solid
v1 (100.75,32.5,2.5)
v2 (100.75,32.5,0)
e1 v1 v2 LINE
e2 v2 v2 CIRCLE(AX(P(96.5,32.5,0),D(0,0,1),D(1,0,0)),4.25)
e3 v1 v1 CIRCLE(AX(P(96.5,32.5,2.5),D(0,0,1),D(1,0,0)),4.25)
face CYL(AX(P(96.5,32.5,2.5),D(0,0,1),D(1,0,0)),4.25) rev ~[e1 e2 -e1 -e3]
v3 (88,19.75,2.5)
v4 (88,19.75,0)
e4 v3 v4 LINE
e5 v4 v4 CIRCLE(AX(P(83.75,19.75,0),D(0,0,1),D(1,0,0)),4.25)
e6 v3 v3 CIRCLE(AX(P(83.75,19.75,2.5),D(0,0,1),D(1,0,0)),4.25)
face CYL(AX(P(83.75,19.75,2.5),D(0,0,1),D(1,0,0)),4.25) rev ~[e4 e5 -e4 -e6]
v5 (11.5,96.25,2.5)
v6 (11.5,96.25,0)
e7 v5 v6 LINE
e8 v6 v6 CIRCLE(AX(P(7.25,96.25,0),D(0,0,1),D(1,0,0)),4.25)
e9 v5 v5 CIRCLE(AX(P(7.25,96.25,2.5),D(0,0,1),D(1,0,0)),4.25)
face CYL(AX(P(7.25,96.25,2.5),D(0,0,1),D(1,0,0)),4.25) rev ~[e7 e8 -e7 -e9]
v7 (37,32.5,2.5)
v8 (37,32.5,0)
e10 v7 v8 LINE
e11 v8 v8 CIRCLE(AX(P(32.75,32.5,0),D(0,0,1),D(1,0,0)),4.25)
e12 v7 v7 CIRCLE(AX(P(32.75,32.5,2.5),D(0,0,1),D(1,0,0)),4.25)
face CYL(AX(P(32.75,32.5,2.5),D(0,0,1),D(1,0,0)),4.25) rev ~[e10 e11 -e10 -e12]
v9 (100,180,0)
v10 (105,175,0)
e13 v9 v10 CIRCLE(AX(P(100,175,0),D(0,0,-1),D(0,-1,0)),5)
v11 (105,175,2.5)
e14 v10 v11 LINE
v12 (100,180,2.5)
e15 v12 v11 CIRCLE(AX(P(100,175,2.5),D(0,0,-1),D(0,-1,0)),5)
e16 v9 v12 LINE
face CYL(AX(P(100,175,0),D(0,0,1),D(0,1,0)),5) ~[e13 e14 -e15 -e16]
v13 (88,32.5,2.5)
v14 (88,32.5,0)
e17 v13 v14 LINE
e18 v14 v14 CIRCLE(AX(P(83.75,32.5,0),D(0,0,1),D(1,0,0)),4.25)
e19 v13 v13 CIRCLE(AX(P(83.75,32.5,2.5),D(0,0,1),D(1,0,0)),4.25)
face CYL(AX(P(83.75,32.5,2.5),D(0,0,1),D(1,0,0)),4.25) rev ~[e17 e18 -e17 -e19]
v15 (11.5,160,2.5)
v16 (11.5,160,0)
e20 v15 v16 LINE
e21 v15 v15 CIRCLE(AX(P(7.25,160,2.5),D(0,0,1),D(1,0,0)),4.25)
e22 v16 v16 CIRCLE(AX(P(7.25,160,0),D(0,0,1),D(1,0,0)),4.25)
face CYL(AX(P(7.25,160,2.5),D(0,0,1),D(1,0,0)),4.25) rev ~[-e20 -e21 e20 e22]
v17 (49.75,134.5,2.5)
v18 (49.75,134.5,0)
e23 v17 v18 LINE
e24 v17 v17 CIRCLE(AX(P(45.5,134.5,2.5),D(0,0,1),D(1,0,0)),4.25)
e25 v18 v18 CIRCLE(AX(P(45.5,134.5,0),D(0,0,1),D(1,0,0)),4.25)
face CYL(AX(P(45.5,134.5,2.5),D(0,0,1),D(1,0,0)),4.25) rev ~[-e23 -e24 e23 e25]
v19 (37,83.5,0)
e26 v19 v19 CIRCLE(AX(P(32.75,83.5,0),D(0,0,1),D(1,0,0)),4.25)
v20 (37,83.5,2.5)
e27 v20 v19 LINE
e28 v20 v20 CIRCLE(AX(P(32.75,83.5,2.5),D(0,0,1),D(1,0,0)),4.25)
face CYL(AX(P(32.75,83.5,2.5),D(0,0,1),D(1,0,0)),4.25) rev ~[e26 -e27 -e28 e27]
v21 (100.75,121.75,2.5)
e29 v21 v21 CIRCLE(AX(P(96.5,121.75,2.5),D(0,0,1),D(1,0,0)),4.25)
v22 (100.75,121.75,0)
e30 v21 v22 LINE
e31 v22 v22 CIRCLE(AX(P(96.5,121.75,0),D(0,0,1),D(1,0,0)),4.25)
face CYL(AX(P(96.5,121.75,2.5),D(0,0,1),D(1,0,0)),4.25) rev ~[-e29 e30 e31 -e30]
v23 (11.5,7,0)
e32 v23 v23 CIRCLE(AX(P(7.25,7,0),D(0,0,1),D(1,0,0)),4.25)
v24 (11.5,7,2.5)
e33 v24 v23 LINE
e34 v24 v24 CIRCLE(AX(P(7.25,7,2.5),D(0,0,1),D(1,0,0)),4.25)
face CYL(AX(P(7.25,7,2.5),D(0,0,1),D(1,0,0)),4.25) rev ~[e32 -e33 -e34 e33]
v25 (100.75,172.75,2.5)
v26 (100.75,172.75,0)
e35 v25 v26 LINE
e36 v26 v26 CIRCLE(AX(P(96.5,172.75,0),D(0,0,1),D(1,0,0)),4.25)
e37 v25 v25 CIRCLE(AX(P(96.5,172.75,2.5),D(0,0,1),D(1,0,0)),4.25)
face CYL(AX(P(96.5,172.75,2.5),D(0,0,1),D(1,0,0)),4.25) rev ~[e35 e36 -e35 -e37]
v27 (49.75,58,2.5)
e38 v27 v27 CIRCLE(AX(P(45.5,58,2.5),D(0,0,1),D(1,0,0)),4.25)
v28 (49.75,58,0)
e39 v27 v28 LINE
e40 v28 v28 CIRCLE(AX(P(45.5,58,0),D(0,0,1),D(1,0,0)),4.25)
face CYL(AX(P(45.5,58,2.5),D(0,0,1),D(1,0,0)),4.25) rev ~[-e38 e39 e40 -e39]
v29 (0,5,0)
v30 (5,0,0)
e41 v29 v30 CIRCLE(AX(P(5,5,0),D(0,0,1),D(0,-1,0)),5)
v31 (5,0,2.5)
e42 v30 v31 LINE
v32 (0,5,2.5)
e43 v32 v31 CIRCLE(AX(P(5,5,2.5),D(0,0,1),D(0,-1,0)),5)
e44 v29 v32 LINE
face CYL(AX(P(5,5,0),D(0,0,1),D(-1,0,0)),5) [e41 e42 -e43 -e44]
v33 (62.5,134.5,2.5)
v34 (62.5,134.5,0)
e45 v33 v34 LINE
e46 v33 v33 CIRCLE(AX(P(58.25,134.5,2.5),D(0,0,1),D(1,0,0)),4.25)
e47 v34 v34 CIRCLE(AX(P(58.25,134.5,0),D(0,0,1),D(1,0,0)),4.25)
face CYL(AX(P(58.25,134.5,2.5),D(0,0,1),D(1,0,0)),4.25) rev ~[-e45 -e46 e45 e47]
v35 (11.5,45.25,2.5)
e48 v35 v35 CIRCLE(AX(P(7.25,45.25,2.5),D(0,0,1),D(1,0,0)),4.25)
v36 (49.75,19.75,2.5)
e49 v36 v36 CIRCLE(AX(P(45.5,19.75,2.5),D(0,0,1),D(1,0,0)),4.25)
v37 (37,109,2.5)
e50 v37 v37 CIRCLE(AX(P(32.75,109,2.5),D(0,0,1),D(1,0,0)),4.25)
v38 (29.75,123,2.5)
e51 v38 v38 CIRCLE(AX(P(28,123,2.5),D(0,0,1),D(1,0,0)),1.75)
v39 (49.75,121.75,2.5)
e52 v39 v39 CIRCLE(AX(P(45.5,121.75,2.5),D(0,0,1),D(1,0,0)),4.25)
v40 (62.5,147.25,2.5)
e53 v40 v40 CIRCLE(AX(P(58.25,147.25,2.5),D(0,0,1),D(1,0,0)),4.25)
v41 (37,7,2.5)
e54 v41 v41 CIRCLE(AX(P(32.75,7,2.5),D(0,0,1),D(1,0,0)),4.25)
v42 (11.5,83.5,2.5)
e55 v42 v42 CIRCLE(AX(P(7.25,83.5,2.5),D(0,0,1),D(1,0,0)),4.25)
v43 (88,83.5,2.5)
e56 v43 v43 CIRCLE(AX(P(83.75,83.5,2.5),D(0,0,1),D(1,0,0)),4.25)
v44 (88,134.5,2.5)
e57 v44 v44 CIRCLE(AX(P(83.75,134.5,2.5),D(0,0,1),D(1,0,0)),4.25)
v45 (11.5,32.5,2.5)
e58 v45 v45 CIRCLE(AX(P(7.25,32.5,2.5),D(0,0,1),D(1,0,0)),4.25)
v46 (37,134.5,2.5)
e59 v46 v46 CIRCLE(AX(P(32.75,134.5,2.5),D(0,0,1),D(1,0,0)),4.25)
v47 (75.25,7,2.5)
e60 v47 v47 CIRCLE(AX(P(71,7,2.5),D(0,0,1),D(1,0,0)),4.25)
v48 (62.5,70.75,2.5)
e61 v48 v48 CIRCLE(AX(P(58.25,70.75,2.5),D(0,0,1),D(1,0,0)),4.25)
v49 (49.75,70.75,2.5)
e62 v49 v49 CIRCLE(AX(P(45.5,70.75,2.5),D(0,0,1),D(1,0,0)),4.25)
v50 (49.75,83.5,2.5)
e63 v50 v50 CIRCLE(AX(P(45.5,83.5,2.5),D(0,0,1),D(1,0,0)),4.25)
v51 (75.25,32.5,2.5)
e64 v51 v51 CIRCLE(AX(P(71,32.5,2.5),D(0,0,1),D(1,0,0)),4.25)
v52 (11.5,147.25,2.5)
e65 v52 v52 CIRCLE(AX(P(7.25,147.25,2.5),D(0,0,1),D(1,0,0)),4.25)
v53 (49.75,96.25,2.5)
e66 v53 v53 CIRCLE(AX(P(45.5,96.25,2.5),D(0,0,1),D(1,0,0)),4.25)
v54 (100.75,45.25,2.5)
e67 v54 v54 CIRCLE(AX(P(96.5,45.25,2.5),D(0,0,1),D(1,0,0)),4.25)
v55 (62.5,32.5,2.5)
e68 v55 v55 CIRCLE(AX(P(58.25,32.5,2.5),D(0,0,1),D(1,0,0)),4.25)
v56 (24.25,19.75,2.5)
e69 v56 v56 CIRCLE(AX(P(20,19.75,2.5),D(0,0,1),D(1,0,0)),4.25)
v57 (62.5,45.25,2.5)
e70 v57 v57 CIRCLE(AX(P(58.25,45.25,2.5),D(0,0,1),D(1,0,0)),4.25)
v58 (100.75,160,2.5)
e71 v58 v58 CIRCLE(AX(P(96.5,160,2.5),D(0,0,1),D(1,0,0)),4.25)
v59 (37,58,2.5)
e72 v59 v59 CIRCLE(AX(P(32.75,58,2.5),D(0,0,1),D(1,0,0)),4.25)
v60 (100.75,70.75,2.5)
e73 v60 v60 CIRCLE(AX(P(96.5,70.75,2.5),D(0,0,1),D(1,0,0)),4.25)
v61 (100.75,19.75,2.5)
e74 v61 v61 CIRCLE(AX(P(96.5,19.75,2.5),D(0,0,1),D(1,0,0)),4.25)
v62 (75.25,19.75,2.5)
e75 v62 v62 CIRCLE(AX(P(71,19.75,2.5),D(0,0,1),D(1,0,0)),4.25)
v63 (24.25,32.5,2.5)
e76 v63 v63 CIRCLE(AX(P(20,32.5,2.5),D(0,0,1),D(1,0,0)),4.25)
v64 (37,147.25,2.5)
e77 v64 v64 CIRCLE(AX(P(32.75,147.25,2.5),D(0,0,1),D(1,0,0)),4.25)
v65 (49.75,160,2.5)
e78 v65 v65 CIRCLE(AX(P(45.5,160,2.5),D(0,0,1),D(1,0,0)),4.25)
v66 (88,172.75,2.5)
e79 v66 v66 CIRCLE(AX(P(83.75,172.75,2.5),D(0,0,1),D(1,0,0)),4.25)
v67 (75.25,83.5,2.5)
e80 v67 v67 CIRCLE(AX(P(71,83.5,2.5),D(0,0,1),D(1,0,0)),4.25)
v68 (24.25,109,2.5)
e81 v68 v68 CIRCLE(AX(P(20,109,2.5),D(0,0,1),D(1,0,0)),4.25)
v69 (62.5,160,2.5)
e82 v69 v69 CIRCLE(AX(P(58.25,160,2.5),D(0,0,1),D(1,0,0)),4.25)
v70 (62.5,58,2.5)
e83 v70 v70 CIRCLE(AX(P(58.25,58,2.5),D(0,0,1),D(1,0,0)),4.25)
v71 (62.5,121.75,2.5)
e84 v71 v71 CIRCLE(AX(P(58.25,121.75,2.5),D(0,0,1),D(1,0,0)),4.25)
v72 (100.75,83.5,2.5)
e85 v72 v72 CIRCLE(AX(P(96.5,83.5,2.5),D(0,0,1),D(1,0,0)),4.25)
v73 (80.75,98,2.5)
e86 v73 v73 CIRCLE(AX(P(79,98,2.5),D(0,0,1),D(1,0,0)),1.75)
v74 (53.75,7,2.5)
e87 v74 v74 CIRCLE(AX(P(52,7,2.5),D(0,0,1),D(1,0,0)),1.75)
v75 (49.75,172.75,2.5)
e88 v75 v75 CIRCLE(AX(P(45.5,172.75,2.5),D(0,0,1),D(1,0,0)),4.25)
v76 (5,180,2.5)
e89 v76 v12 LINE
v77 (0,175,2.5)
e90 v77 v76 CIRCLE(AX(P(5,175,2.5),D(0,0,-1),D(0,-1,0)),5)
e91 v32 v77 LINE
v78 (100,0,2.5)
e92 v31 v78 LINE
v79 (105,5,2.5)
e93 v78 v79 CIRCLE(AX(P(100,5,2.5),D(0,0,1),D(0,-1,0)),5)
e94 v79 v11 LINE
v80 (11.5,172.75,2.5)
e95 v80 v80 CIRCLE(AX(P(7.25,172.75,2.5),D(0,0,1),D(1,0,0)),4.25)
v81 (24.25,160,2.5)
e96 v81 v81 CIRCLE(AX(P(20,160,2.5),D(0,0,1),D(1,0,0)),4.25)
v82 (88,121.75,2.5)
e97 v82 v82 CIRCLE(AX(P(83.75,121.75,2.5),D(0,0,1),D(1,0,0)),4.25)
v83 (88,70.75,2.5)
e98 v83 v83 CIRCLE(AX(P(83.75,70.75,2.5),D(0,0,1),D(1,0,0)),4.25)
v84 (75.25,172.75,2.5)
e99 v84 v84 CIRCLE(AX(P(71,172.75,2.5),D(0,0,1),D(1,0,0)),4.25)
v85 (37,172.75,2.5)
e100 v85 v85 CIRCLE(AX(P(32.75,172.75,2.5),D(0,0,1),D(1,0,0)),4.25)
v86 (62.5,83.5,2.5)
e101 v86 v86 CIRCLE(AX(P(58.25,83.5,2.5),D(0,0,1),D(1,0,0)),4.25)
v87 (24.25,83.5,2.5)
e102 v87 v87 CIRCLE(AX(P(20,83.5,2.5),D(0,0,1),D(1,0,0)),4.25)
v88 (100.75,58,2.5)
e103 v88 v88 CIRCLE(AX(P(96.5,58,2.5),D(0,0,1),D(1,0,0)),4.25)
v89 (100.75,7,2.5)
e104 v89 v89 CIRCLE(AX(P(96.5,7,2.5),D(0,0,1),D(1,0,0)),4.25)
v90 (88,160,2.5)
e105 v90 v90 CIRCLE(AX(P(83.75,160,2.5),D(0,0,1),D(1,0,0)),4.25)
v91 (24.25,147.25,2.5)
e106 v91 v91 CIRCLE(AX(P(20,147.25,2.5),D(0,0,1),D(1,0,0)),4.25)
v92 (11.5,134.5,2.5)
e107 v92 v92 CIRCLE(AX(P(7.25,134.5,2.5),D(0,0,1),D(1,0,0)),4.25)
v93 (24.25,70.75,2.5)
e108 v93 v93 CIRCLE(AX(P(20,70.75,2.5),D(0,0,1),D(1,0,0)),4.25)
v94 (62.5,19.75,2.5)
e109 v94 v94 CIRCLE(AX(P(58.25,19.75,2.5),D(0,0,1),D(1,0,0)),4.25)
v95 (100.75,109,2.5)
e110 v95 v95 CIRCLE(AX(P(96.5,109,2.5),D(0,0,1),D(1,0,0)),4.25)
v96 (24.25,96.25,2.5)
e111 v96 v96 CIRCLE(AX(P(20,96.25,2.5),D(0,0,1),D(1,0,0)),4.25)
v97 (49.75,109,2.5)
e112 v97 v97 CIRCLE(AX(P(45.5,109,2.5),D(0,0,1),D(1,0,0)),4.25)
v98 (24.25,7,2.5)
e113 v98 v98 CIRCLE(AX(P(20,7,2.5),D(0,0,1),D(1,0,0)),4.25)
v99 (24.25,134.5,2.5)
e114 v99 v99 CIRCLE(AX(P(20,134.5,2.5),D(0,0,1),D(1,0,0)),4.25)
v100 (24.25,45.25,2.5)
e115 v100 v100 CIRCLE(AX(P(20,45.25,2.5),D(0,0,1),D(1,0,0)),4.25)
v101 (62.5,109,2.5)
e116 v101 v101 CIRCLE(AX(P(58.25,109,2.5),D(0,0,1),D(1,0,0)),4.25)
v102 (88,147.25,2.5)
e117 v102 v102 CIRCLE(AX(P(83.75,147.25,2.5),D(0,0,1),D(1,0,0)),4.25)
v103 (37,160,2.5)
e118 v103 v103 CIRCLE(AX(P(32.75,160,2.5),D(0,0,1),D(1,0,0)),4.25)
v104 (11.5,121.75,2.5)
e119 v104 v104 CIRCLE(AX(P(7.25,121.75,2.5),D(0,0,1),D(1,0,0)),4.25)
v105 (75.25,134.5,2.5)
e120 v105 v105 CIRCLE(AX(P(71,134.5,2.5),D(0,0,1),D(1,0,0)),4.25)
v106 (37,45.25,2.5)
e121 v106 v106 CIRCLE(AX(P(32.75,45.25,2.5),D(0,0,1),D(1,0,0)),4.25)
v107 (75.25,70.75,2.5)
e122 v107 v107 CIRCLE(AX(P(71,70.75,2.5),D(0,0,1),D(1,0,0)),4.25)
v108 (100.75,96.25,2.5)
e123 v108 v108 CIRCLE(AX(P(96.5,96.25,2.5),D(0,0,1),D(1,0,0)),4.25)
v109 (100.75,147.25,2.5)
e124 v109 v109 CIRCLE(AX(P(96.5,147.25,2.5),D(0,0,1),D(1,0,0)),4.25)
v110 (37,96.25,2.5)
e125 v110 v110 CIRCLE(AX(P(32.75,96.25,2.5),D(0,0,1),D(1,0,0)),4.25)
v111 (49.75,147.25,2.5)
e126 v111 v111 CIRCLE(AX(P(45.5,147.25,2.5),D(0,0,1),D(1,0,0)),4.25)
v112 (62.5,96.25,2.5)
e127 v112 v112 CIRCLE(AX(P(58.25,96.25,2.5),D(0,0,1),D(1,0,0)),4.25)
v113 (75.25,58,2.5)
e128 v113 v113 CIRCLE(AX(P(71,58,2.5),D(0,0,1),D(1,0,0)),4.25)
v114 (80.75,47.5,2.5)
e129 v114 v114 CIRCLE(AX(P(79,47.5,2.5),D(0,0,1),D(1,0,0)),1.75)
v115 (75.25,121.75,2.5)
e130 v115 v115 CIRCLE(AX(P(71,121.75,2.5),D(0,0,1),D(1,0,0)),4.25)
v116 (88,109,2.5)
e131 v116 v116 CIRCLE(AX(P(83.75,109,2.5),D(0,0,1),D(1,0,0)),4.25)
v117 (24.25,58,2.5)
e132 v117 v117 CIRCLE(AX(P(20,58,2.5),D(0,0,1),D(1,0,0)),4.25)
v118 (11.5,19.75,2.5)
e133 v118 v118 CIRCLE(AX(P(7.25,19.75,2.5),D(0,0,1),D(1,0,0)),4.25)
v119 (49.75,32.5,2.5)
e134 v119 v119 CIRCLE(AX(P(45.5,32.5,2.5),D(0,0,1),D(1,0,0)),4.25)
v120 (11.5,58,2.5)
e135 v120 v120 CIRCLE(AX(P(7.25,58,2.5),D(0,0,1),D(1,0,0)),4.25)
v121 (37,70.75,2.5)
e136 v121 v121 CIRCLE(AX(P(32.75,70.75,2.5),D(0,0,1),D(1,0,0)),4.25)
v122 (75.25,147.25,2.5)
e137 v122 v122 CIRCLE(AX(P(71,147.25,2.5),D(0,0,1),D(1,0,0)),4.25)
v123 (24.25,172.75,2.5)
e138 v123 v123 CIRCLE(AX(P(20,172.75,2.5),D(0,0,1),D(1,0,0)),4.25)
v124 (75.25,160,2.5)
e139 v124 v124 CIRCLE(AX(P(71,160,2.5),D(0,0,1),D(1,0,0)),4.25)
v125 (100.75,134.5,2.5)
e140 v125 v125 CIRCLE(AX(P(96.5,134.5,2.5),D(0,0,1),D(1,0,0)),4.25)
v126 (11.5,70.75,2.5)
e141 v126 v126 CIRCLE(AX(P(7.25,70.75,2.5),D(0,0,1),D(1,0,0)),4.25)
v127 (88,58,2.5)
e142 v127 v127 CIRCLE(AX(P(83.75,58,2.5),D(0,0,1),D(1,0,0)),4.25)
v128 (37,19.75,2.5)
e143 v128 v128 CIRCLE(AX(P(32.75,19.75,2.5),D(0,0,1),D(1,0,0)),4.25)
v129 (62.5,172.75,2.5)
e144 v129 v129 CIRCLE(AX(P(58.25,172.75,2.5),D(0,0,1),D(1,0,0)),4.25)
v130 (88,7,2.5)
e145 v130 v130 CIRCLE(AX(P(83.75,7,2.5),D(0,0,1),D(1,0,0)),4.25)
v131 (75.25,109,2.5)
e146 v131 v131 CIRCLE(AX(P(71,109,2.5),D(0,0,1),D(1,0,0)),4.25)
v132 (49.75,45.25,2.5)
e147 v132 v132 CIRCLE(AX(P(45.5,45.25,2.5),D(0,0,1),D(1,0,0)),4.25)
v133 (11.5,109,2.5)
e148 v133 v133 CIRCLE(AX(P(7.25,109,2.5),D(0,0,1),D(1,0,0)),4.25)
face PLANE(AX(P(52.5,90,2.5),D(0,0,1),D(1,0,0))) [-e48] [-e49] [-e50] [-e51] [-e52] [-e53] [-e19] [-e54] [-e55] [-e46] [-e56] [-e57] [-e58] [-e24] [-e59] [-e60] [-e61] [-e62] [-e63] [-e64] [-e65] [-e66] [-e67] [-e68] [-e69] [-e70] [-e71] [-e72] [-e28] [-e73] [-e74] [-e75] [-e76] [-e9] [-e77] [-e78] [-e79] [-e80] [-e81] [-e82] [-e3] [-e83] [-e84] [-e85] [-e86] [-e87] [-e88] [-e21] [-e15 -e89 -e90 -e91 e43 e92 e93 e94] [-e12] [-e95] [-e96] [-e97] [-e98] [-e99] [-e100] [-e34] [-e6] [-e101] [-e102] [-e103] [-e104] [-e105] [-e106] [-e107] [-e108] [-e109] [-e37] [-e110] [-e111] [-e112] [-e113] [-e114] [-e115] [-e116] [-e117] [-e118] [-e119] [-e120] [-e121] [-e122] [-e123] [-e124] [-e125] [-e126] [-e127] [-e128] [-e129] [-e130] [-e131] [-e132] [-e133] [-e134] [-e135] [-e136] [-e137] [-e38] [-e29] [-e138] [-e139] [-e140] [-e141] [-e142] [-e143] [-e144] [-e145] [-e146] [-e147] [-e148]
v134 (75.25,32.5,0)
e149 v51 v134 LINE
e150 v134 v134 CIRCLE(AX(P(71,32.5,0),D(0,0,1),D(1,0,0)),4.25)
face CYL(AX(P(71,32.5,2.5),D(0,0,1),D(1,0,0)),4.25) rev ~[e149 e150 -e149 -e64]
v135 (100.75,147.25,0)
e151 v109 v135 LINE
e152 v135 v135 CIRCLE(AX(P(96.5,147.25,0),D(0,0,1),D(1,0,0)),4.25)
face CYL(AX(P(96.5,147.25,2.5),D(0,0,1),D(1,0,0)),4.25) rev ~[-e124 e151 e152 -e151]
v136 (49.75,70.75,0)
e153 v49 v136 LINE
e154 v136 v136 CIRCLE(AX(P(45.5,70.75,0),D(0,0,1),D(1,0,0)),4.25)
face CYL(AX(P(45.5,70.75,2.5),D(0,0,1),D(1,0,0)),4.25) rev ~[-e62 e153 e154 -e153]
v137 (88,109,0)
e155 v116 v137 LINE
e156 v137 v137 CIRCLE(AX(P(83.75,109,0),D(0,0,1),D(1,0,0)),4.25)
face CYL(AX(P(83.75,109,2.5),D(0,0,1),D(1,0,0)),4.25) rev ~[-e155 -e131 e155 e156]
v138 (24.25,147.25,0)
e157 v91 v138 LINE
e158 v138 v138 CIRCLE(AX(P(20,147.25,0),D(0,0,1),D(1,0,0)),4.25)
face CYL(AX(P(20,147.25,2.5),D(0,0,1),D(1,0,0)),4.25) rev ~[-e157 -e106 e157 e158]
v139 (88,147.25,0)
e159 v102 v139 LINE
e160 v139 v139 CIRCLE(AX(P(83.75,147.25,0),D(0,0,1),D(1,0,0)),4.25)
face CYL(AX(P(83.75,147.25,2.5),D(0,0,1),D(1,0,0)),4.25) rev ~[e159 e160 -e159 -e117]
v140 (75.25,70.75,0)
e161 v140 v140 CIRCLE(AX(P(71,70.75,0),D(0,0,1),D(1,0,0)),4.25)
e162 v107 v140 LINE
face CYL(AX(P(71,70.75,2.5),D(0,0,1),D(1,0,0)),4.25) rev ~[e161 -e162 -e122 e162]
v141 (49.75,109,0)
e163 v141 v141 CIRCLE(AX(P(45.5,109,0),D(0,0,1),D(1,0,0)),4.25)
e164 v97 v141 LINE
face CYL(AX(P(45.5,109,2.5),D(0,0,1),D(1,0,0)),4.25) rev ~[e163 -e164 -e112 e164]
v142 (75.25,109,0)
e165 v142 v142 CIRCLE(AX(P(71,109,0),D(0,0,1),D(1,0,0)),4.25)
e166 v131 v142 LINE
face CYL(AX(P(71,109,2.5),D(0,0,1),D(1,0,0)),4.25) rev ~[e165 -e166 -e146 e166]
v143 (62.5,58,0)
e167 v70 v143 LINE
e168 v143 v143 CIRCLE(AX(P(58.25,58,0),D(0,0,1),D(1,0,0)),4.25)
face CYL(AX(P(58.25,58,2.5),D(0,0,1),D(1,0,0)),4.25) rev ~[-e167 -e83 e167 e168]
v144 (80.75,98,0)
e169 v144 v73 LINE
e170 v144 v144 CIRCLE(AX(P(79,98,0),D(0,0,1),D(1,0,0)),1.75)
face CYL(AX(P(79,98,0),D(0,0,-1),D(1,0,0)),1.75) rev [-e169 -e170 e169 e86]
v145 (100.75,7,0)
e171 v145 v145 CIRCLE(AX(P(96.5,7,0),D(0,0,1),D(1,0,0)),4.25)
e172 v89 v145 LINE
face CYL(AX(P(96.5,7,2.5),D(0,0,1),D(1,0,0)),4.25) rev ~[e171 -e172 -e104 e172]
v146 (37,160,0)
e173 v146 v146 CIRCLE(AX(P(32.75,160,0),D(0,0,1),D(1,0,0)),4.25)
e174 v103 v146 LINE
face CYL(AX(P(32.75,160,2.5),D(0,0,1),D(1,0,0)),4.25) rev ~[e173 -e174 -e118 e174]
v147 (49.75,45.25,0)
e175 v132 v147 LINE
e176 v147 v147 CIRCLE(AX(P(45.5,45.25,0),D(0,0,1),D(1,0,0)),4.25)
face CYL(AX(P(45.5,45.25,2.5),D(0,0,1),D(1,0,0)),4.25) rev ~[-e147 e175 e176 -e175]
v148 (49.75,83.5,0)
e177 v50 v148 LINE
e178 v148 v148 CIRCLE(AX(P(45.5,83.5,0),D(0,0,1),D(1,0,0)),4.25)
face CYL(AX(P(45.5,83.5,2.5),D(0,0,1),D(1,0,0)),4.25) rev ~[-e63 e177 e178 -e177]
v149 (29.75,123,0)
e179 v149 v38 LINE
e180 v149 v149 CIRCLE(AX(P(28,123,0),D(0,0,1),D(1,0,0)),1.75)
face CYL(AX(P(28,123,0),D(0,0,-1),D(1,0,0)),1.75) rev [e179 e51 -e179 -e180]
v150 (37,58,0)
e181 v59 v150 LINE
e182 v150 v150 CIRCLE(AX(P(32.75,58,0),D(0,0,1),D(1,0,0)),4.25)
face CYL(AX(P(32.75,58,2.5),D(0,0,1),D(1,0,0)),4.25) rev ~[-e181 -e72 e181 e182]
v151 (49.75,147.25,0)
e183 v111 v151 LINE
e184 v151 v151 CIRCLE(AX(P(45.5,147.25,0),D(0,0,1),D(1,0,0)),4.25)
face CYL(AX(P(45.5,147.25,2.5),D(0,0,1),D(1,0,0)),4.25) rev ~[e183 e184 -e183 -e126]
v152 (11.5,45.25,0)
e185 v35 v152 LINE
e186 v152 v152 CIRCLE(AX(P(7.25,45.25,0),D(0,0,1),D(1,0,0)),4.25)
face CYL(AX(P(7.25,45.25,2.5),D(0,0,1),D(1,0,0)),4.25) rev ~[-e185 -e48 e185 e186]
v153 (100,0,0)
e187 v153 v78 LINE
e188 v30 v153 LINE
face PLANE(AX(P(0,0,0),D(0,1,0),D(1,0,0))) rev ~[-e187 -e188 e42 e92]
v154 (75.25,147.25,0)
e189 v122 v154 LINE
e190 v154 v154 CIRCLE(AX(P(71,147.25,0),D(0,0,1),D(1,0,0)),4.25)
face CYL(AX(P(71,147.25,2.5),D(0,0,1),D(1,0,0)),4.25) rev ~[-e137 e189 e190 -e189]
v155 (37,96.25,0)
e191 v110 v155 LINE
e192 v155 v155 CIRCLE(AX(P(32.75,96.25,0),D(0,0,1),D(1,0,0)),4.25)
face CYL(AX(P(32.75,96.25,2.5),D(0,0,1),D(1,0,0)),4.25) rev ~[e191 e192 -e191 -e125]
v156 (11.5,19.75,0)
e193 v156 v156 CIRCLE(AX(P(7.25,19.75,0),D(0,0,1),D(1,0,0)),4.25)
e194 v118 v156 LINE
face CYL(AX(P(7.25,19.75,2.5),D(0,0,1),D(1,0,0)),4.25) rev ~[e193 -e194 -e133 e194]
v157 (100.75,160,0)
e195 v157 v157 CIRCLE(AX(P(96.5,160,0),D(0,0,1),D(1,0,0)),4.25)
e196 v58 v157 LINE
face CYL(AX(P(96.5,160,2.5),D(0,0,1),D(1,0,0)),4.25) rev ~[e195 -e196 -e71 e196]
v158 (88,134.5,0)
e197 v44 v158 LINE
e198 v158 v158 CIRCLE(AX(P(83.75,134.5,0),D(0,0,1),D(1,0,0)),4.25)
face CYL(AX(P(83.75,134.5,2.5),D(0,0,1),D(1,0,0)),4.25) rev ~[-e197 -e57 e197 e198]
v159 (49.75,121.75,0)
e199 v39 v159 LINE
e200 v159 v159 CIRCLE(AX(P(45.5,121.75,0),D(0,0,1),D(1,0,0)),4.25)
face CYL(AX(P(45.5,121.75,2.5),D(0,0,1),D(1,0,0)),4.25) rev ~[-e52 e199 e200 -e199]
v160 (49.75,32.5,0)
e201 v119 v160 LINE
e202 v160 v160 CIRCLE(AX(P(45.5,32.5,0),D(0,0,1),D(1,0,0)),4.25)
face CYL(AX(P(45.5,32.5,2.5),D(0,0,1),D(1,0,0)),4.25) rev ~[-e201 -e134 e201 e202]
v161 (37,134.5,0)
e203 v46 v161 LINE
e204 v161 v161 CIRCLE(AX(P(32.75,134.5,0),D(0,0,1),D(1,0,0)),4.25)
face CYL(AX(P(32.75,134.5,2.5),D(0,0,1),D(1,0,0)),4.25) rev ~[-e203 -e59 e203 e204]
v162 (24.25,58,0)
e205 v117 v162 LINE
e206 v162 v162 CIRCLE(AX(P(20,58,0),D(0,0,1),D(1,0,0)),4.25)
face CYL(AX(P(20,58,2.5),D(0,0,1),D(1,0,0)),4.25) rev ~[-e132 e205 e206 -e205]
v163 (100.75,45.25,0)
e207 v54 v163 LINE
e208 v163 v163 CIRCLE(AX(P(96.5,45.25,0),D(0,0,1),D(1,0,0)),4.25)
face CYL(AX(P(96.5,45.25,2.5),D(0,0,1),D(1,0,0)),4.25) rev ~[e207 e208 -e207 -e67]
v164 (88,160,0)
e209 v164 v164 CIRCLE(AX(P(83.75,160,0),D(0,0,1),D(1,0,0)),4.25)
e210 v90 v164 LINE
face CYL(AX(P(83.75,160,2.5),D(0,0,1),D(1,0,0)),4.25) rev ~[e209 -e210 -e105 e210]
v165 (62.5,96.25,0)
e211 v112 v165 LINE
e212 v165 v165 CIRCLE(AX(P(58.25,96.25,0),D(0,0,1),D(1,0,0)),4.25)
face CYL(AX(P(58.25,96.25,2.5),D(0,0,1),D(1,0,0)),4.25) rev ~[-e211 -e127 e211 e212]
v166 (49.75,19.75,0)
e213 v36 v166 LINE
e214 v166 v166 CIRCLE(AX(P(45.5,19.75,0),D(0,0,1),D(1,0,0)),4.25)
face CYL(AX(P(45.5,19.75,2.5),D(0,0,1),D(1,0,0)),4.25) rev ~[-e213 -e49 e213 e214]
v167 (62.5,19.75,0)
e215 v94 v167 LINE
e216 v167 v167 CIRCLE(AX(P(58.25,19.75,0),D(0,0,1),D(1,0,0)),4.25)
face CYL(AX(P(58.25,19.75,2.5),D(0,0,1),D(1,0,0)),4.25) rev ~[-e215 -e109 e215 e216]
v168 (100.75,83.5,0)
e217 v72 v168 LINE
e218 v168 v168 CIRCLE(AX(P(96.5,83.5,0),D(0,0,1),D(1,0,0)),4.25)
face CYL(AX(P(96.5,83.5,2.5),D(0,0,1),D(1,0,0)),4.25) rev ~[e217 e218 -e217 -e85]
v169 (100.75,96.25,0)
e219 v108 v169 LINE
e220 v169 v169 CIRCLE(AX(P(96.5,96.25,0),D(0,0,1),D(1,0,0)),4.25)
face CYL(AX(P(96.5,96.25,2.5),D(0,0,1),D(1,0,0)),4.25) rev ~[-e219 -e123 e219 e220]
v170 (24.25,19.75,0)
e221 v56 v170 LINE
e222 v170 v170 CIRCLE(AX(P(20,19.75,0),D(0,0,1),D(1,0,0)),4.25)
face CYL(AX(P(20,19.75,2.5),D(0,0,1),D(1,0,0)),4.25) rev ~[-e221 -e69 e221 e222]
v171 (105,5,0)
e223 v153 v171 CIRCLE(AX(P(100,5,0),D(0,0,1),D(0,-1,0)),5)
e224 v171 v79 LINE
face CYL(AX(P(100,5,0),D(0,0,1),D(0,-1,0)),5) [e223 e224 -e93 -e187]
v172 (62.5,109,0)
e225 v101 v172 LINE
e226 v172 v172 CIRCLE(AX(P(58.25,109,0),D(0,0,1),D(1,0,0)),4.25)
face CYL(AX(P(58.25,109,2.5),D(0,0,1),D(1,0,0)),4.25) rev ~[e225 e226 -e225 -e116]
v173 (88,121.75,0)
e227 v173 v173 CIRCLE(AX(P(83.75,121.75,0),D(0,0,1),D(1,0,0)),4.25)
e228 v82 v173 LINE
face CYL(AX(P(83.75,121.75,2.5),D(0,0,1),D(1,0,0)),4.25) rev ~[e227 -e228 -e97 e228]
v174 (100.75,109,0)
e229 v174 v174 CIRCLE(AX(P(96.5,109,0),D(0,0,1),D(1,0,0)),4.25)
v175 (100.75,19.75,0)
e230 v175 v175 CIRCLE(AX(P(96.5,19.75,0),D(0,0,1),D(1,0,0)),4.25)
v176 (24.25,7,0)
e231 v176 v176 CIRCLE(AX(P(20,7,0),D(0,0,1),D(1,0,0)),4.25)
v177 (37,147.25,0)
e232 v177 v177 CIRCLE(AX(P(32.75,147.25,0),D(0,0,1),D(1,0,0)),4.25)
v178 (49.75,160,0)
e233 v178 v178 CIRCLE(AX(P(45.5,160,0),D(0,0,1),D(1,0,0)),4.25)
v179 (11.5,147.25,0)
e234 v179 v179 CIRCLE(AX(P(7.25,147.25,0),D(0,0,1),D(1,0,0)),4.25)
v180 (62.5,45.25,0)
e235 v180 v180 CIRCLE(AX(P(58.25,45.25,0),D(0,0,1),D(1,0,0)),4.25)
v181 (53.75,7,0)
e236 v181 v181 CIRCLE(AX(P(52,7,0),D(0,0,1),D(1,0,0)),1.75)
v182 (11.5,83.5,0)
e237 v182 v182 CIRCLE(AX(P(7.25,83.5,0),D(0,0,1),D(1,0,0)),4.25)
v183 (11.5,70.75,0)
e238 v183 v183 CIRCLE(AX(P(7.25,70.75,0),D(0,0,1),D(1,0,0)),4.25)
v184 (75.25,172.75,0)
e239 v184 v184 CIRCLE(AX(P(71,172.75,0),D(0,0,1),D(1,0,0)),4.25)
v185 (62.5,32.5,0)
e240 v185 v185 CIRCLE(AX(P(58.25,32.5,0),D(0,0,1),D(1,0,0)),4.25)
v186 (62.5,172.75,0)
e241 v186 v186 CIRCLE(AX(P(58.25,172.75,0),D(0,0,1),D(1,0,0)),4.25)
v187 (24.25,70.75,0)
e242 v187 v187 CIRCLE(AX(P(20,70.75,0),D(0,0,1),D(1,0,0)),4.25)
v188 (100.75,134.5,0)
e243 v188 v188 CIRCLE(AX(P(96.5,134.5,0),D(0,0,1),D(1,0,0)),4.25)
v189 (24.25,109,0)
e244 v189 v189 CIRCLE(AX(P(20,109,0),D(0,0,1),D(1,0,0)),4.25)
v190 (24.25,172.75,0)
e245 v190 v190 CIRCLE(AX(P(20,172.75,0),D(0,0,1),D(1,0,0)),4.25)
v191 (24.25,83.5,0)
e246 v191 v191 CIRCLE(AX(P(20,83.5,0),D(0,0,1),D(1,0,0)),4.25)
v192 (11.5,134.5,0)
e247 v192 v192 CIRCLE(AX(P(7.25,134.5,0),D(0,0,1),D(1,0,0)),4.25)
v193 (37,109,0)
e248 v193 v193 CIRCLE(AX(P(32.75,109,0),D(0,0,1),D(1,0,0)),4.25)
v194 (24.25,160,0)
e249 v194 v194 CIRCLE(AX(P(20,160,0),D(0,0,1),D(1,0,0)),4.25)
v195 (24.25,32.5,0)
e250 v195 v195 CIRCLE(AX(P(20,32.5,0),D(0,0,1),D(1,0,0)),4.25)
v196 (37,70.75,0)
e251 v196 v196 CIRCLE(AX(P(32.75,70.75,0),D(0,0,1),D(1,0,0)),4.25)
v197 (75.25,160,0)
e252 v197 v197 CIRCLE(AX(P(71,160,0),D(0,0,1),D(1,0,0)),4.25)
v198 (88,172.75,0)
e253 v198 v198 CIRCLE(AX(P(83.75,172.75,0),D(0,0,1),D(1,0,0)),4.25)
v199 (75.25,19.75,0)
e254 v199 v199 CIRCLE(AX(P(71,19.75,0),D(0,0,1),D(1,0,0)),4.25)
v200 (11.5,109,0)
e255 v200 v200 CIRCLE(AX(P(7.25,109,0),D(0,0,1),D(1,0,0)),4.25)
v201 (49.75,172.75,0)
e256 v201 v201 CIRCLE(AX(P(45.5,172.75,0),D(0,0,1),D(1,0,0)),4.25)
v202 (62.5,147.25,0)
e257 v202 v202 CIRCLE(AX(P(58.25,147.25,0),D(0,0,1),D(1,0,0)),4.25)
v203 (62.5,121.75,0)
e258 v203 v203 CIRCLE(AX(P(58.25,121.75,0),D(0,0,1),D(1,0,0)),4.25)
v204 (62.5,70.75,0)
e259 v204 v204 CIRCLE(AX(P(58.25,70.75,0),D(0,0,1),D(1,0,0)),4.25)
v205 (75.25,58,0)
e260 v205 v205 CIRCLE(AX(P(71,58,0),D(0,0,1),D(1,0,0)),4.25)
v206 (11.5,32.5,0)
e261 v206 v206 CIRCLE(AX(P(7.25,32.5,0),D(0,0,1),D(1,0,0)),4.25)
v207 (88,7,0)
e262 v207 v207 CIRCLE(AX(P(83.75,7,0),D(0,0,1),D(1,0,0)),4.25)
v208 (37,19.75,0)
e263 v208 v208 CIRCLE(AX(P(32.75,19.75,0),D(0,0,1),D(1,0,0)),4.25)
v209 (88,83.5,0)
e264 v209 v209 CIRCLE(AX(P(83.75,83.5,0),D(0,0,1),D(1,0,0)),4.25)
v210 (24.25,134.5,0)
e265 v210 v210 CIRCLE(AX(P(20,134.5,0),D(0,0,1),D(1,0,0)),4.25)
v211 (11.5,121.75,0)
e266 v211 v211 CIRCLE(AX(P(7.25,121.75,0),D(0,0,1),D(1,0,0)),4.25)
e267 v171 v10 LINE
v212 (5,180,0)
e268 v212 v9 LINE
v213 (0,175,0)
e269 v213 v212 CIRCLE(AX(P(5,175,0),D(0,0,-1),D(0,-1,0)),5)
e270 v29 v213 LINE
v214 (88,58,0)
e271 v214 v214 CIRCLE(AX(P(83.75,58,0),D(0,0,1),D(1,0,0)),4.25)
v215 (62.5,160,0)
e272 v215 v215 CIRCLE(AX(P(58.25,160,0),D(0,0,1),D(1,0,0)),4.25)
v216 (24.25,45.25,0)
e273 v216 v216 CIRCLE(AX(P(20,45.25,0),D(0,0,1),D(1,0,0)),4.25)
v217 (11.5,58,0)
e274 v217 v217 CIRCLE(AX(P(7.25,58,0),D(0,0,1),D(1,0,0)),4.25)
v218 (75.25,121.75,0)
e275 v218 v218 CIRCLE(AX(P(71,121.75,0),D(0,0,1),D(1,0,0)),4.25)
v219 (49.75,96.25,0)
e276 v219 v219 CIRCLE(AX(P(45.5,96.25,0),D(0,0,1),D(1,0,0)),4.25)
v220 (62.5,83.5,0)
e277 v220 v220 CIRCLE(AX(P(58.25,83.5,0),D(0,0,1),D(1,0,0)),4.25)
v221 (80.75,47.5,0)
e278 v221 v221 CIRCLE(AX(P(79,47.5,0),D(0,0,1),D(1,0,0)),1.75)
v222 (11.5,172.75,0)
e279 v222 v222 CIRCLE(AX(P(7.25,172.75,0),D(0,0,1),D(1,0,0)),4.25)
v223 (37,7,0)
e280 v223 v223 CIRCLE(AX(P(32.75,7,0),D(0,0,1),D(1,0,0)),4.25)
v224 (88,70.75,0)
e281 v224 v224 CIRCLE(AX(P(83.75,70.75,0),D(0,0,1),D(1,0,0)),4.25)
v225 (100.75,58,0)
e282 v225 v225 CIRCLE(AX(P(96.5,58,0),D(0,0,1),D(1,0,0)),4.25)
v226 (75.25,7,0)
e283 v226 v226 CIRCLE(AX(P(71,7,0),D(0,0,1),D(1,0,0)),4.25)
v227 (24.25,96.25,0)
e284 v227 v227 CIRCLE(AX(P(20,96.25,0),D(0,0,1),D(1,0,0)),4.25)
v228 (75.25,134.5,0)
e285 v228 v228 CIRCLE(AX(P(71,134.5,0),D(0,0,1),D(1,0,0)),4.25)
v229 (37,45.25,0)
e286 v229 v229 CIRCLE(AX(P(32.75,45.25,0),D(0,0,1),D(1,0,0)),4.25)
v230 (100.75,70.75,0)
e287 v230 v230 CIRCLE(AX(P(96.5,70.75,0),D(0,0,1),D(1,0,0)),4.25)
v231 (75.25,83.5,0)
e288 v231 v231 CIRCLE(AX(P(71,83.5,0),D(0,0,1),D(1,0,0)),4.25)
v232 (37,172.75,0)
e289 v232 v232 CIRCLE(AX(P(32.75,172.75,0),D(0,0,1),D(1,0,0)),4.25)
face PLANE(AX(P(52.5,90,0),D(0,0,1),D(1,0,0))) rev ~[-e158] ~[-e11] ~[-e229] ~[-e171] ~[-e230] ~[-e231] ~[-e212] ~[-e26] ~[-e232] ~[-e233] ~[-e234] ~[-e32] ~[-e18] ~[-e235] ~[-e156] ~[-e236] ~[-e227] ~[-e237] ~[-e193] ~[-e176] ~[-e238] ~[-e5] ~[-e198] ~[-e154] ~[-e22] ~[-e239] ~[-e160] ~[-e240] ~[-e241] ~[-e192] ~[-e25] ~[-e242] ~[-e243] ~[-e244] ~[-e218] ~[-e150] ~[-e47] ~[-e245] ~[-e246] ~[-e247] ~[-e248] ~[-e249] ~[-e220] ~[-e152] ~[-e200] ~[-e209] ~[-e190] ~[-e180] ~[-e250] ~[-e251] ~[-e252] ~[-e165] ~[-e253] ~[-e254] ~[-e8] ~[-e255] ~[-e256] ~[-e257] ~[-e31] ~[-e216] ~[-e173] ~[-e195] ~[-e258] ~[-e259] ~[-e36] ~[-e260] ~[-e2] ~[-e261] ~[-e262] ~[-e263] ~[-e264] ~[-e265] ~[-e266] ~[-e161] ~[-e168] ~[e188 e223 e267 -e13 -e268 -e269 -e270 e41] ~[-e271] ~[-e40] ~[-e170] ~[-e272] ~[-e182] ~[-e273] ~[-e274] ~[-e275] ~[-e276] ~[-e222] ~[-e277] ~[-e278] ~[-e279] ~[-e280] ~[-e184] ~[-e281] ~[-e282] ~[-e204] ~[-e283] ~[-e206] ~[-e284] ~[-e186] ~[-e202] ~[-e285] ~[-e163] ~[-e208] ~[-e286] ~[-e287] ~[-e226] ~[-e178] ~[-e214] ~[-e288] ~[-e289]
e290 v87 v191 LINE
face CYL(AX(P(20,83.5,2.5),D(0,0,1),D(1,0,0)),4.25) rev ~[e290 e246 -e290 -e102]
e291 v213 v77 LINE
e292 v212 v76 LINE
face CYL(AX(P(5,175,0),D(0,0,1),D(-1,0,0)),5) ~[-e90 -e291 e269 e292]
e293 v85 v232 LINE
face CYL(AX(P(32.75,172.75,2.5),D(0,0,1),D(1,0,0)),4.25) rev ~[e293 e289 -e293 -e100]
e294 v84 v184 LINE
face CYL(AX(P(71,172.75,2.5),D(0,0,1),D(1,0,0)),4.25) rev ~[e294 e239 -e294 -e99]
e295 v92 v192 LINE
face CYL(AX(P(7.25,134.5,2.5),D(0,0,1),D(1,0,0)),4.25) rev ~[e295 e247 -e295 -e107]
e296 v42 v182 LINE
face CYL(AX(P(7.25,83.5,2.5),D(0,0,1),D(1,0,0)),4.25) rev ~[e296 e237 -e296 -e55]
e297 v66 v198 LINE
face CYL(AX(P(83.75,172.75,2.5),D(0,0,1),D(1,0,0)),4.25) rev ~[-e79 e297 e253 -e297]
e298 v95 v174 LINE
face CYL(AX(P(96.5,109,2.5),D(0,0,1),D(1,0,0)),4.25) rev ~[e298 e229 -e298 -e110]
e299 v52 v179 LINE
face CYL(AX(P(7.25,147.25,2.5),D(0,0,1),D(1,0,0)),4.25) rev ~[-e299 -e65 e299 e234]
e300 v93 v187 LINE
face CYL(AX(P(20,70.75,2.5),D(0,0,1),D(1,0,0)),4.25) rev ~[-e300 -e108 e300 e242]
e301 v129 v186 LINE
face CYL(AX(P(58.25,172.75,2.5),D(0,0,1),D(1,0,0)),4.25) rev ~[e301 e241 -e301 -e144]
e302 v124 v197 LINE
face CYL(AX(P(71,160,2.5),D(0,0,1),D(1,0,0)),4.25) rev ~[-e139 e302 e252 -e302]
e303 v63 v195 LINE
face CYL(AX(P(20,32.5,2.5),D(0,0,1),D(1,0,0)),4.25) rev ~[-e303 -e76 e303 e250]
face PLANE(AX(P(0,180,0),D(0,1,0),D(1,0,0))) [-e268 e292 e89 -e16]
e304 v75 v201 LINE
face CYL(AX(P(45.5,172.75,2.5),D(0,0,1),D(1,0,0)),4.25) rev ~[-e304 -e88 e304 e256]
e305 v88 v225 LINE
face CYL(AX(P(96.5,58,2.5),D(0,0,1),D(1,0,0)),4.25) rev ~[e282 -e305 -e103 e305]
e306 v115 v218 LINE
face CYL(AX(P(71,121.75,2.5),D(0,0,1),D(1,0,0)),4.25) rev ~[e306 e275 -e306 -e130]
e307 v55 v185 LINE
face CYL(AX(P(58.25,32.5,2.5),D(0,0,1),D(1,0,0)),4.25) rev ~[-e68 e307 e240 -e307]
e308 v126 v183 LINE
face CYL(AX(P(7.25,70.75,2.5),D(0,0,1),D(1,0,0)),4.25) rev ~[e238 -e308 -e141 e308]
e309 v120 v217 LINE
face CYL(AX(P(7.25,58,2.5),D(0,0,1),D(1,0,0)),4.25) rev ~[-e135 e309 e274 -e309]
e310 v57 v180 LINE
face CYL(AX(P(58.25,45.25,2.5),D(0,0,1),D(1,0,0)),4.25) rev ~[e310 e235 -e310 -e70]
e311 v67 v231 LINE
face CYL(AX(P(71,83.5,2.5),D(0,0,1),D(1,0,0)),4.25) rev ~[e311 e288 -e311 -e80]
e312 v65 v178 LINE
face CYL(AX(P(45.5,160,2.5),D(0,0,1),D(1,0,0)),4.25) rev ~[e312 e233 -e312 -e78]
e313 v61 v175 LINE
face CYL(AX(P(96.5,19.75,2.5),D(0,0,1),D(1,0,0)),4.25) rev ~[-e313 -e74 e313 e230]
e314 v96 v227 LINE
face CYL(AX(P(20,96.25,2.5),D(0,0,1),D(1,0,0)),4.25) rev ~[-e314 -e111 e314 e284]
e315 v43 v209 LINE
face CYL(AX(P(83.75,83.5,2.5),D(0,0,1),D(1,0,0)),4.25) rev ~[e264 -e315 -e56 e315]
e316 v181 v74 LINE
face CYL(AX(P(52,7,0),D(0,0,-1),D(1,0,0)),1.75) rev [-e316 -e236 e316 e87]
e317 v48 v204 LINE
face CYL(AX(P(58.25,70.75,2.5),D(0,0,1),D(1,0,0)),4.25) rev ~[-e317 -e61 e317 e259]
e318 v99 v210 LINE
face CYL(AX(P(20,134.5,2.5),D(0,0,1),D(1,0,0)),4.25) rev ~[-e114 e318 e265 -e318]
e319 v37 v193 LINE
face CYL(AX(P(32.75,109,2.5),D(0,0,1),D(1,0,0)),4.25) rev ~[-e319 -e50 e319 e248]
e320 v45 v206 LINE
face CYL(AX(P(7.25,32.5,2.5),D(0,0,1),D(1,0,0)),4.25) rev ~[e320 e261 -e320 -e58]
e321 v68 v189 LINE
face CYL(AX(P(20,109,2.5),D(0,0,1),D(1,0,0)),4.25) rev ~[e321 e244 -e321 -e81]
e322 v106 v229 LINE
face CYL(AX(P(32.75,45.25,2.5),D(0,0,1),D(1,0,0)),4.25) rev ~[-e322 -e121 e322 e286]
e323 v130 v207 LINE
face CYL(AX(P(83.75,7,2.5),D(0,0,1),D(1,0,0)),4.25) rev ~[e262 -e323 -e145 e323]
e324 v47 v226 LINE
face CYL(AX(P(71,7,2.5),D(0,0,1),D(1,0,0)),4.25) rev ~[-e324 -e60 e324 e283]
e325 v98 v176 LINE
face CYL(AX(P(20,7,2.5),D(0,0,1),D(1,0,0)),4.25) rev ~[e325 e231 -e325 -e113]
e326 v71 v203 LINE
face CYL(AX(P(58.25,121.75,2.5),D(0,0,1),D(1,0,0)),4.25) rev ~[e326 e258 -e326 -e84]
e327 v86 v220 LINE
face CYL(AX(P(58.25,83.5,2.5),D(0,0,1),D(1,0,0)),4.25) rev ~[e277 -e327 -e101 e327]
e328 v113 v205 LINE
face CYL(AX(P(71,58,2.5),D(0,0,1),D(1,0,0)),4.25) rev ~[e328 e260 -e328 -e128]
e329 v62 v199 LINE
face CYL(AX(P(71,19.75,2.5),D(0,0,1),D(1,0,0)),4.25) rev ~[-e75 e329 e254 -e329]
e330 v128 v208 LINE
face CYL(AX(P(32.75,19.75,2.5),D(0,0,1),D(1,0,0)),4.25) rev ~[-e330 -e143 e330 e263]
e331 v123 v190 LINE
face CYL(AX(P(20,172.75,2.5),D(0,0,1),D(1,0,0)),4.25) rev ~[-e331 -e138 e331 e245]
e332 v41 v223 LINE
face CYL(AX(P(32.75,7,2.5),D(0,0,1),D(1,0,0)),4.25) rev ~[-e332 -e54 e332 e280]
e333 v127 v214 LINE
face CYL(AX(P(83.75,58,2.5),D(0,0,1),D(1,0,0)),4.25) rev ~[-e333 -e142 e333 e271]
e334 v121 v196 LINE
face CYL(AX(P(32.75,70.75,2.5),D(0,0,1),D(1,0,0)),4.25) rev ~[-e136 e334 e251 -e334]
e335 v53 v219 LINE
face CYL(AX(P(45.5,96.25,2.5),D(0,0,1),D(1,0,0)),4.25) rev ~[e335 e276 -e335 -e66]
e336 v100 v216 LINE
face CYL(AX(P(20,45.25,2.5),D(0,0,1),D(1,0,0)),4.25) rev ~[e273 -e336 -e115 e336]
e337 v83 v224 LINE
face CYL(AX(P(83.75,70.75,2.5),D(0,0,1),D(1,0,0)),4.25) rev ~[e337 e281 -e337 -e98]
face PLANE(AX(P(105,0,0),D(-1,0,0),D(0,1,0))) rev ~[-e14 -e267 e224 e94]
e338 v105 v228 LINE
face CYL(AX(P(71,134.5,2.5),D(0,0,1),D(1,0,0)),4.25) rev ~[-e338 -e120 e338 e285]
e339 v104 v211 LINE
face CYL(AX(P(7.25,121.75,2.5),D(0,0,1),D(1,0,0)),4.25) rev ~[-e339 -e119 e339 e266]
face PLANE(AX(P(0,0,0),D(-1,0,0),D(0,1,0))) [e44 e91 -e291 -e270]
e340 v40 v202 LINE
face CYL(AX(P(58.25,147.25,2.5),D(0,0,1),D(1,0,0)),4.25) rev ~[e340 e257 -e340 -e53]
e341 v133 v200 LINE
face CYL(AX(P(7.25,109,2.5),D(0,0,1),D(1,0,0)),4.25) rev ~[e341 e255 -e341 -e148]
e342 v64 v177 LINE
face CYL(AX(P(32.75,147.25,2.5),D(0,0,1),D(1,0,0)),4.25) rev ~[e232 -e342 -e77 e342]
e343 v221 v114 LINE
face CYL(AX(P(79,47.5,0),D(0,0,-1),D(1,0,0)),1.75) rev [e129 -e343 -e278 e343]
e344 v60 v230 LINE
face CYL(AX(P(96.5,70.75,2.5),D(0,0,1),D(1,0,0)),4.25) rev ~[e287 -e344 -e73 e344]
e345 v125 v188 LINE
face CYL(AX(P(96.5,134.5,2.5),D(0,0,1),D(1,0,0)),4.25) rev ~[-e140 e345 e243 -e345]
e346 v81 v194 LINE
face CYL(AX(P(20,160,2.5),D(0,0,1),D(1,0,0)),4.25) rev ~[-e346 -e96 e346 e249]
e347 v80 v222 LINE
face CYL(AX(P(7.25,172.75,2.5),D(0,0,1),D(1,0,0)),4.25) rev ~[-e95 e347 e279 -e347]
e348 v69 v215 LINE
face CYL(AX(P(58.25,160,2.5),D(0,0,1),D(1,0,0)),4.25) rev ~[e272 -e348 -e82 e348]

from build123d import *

# Parameters (mm, degrees)
SKETCH1_W            = 105
SKETCH1_H            = 180
SKETCH1_R            = 1.75
BOSS_EXTRUDE1_DEPTH  = 2.5
FILLET2_R            = 5
CUT_EXTRUDE1_REACH   = 210.402
SKETCH2_R            = 4.25
LPATTERN1_COUNT      = 8
LPATTERN1_PITCH      = 12.75
LPATTERN1_COUNT_DIR2 = 14
LPATTERN1_PITCH_DIR2 = 12.75


with BuildPart() as part:
    # Sketch1 → Boss-Extrude1 (new body)
    with BuildSketch(Plane.XY):
        with Locations((52.5, 90)):
            Rectangle(SKETCH1_W, SKETCH1_H)
        with Locations((28, 123)):
            Circle(SKETCH1_R, mode=Mode.SUBTRACT)
        with Locations((79, 98)):
            Circle(SKETCH1_R, mode=Mode.SUBTRACT)
        with Locations((79, 47.5)):
            Circle(SKETCH1_R, mode=Mode.SUBTRACT)
        with Locations((52, 7)):
            Circle(SKETCH1_R, mode=Mode.SUBTRACT)
    extrude(amount=BOSS_EXTRUDE1_DEPTH)

    # Fillet2
    fillet2_edges = [part.edges().sort_by_distance(p)[0] for p in [
        (0, 180, 1.25),
        (105, 180, 1.25),
        (105, 0, 1.25),
        (0, 0, 1.25),
    ]]
    fillet(fillet2_edges, radius=FILLET2_R)

    # Sketch2 → Cut-Extrude1 (cut, up to next)
    with BuildSketch(Plane.XY.offset(2.5), mode=Mode.PRIVATE) as cut_extrude1_sk1:
        with Locations((7.25, 172.75)):
            Circle(SKETCH2_R)
    cut_extrude1_tool1 = extrude(cut_extrude1_sk1.sketch, amount=-CUT_EXTRUDE1_REACH, mode=Mode.PRIVATE) & part.part
    cut_extrude1 = cut_extrude1_tool1.solids().sort_by_distance((7.25, 172.75, 2.5))[0]
    add(cut_extrude1, mode=Mode.SUBTRACT)

    # LPattern1: Cut-Extrude1 8 × 14, 8 skipped
    with Locations(*[(i * LPATTERN1_PITCH, -j * LPATTERN1_PITCH_DIR2, 0) for i in range(LPATTERN1_COUNT) for j in range(LPATTERN1_COUNT_DIR2) if (i, j) not in ((0, 0), (1, 4), (2, 4), (3, 13), (4, 13), (5, 6), (5, 10), (6, 6), (6, 10))]):
        add(cut_extrude1, mode=Mode.SUBTRACT)


solid = part.part
